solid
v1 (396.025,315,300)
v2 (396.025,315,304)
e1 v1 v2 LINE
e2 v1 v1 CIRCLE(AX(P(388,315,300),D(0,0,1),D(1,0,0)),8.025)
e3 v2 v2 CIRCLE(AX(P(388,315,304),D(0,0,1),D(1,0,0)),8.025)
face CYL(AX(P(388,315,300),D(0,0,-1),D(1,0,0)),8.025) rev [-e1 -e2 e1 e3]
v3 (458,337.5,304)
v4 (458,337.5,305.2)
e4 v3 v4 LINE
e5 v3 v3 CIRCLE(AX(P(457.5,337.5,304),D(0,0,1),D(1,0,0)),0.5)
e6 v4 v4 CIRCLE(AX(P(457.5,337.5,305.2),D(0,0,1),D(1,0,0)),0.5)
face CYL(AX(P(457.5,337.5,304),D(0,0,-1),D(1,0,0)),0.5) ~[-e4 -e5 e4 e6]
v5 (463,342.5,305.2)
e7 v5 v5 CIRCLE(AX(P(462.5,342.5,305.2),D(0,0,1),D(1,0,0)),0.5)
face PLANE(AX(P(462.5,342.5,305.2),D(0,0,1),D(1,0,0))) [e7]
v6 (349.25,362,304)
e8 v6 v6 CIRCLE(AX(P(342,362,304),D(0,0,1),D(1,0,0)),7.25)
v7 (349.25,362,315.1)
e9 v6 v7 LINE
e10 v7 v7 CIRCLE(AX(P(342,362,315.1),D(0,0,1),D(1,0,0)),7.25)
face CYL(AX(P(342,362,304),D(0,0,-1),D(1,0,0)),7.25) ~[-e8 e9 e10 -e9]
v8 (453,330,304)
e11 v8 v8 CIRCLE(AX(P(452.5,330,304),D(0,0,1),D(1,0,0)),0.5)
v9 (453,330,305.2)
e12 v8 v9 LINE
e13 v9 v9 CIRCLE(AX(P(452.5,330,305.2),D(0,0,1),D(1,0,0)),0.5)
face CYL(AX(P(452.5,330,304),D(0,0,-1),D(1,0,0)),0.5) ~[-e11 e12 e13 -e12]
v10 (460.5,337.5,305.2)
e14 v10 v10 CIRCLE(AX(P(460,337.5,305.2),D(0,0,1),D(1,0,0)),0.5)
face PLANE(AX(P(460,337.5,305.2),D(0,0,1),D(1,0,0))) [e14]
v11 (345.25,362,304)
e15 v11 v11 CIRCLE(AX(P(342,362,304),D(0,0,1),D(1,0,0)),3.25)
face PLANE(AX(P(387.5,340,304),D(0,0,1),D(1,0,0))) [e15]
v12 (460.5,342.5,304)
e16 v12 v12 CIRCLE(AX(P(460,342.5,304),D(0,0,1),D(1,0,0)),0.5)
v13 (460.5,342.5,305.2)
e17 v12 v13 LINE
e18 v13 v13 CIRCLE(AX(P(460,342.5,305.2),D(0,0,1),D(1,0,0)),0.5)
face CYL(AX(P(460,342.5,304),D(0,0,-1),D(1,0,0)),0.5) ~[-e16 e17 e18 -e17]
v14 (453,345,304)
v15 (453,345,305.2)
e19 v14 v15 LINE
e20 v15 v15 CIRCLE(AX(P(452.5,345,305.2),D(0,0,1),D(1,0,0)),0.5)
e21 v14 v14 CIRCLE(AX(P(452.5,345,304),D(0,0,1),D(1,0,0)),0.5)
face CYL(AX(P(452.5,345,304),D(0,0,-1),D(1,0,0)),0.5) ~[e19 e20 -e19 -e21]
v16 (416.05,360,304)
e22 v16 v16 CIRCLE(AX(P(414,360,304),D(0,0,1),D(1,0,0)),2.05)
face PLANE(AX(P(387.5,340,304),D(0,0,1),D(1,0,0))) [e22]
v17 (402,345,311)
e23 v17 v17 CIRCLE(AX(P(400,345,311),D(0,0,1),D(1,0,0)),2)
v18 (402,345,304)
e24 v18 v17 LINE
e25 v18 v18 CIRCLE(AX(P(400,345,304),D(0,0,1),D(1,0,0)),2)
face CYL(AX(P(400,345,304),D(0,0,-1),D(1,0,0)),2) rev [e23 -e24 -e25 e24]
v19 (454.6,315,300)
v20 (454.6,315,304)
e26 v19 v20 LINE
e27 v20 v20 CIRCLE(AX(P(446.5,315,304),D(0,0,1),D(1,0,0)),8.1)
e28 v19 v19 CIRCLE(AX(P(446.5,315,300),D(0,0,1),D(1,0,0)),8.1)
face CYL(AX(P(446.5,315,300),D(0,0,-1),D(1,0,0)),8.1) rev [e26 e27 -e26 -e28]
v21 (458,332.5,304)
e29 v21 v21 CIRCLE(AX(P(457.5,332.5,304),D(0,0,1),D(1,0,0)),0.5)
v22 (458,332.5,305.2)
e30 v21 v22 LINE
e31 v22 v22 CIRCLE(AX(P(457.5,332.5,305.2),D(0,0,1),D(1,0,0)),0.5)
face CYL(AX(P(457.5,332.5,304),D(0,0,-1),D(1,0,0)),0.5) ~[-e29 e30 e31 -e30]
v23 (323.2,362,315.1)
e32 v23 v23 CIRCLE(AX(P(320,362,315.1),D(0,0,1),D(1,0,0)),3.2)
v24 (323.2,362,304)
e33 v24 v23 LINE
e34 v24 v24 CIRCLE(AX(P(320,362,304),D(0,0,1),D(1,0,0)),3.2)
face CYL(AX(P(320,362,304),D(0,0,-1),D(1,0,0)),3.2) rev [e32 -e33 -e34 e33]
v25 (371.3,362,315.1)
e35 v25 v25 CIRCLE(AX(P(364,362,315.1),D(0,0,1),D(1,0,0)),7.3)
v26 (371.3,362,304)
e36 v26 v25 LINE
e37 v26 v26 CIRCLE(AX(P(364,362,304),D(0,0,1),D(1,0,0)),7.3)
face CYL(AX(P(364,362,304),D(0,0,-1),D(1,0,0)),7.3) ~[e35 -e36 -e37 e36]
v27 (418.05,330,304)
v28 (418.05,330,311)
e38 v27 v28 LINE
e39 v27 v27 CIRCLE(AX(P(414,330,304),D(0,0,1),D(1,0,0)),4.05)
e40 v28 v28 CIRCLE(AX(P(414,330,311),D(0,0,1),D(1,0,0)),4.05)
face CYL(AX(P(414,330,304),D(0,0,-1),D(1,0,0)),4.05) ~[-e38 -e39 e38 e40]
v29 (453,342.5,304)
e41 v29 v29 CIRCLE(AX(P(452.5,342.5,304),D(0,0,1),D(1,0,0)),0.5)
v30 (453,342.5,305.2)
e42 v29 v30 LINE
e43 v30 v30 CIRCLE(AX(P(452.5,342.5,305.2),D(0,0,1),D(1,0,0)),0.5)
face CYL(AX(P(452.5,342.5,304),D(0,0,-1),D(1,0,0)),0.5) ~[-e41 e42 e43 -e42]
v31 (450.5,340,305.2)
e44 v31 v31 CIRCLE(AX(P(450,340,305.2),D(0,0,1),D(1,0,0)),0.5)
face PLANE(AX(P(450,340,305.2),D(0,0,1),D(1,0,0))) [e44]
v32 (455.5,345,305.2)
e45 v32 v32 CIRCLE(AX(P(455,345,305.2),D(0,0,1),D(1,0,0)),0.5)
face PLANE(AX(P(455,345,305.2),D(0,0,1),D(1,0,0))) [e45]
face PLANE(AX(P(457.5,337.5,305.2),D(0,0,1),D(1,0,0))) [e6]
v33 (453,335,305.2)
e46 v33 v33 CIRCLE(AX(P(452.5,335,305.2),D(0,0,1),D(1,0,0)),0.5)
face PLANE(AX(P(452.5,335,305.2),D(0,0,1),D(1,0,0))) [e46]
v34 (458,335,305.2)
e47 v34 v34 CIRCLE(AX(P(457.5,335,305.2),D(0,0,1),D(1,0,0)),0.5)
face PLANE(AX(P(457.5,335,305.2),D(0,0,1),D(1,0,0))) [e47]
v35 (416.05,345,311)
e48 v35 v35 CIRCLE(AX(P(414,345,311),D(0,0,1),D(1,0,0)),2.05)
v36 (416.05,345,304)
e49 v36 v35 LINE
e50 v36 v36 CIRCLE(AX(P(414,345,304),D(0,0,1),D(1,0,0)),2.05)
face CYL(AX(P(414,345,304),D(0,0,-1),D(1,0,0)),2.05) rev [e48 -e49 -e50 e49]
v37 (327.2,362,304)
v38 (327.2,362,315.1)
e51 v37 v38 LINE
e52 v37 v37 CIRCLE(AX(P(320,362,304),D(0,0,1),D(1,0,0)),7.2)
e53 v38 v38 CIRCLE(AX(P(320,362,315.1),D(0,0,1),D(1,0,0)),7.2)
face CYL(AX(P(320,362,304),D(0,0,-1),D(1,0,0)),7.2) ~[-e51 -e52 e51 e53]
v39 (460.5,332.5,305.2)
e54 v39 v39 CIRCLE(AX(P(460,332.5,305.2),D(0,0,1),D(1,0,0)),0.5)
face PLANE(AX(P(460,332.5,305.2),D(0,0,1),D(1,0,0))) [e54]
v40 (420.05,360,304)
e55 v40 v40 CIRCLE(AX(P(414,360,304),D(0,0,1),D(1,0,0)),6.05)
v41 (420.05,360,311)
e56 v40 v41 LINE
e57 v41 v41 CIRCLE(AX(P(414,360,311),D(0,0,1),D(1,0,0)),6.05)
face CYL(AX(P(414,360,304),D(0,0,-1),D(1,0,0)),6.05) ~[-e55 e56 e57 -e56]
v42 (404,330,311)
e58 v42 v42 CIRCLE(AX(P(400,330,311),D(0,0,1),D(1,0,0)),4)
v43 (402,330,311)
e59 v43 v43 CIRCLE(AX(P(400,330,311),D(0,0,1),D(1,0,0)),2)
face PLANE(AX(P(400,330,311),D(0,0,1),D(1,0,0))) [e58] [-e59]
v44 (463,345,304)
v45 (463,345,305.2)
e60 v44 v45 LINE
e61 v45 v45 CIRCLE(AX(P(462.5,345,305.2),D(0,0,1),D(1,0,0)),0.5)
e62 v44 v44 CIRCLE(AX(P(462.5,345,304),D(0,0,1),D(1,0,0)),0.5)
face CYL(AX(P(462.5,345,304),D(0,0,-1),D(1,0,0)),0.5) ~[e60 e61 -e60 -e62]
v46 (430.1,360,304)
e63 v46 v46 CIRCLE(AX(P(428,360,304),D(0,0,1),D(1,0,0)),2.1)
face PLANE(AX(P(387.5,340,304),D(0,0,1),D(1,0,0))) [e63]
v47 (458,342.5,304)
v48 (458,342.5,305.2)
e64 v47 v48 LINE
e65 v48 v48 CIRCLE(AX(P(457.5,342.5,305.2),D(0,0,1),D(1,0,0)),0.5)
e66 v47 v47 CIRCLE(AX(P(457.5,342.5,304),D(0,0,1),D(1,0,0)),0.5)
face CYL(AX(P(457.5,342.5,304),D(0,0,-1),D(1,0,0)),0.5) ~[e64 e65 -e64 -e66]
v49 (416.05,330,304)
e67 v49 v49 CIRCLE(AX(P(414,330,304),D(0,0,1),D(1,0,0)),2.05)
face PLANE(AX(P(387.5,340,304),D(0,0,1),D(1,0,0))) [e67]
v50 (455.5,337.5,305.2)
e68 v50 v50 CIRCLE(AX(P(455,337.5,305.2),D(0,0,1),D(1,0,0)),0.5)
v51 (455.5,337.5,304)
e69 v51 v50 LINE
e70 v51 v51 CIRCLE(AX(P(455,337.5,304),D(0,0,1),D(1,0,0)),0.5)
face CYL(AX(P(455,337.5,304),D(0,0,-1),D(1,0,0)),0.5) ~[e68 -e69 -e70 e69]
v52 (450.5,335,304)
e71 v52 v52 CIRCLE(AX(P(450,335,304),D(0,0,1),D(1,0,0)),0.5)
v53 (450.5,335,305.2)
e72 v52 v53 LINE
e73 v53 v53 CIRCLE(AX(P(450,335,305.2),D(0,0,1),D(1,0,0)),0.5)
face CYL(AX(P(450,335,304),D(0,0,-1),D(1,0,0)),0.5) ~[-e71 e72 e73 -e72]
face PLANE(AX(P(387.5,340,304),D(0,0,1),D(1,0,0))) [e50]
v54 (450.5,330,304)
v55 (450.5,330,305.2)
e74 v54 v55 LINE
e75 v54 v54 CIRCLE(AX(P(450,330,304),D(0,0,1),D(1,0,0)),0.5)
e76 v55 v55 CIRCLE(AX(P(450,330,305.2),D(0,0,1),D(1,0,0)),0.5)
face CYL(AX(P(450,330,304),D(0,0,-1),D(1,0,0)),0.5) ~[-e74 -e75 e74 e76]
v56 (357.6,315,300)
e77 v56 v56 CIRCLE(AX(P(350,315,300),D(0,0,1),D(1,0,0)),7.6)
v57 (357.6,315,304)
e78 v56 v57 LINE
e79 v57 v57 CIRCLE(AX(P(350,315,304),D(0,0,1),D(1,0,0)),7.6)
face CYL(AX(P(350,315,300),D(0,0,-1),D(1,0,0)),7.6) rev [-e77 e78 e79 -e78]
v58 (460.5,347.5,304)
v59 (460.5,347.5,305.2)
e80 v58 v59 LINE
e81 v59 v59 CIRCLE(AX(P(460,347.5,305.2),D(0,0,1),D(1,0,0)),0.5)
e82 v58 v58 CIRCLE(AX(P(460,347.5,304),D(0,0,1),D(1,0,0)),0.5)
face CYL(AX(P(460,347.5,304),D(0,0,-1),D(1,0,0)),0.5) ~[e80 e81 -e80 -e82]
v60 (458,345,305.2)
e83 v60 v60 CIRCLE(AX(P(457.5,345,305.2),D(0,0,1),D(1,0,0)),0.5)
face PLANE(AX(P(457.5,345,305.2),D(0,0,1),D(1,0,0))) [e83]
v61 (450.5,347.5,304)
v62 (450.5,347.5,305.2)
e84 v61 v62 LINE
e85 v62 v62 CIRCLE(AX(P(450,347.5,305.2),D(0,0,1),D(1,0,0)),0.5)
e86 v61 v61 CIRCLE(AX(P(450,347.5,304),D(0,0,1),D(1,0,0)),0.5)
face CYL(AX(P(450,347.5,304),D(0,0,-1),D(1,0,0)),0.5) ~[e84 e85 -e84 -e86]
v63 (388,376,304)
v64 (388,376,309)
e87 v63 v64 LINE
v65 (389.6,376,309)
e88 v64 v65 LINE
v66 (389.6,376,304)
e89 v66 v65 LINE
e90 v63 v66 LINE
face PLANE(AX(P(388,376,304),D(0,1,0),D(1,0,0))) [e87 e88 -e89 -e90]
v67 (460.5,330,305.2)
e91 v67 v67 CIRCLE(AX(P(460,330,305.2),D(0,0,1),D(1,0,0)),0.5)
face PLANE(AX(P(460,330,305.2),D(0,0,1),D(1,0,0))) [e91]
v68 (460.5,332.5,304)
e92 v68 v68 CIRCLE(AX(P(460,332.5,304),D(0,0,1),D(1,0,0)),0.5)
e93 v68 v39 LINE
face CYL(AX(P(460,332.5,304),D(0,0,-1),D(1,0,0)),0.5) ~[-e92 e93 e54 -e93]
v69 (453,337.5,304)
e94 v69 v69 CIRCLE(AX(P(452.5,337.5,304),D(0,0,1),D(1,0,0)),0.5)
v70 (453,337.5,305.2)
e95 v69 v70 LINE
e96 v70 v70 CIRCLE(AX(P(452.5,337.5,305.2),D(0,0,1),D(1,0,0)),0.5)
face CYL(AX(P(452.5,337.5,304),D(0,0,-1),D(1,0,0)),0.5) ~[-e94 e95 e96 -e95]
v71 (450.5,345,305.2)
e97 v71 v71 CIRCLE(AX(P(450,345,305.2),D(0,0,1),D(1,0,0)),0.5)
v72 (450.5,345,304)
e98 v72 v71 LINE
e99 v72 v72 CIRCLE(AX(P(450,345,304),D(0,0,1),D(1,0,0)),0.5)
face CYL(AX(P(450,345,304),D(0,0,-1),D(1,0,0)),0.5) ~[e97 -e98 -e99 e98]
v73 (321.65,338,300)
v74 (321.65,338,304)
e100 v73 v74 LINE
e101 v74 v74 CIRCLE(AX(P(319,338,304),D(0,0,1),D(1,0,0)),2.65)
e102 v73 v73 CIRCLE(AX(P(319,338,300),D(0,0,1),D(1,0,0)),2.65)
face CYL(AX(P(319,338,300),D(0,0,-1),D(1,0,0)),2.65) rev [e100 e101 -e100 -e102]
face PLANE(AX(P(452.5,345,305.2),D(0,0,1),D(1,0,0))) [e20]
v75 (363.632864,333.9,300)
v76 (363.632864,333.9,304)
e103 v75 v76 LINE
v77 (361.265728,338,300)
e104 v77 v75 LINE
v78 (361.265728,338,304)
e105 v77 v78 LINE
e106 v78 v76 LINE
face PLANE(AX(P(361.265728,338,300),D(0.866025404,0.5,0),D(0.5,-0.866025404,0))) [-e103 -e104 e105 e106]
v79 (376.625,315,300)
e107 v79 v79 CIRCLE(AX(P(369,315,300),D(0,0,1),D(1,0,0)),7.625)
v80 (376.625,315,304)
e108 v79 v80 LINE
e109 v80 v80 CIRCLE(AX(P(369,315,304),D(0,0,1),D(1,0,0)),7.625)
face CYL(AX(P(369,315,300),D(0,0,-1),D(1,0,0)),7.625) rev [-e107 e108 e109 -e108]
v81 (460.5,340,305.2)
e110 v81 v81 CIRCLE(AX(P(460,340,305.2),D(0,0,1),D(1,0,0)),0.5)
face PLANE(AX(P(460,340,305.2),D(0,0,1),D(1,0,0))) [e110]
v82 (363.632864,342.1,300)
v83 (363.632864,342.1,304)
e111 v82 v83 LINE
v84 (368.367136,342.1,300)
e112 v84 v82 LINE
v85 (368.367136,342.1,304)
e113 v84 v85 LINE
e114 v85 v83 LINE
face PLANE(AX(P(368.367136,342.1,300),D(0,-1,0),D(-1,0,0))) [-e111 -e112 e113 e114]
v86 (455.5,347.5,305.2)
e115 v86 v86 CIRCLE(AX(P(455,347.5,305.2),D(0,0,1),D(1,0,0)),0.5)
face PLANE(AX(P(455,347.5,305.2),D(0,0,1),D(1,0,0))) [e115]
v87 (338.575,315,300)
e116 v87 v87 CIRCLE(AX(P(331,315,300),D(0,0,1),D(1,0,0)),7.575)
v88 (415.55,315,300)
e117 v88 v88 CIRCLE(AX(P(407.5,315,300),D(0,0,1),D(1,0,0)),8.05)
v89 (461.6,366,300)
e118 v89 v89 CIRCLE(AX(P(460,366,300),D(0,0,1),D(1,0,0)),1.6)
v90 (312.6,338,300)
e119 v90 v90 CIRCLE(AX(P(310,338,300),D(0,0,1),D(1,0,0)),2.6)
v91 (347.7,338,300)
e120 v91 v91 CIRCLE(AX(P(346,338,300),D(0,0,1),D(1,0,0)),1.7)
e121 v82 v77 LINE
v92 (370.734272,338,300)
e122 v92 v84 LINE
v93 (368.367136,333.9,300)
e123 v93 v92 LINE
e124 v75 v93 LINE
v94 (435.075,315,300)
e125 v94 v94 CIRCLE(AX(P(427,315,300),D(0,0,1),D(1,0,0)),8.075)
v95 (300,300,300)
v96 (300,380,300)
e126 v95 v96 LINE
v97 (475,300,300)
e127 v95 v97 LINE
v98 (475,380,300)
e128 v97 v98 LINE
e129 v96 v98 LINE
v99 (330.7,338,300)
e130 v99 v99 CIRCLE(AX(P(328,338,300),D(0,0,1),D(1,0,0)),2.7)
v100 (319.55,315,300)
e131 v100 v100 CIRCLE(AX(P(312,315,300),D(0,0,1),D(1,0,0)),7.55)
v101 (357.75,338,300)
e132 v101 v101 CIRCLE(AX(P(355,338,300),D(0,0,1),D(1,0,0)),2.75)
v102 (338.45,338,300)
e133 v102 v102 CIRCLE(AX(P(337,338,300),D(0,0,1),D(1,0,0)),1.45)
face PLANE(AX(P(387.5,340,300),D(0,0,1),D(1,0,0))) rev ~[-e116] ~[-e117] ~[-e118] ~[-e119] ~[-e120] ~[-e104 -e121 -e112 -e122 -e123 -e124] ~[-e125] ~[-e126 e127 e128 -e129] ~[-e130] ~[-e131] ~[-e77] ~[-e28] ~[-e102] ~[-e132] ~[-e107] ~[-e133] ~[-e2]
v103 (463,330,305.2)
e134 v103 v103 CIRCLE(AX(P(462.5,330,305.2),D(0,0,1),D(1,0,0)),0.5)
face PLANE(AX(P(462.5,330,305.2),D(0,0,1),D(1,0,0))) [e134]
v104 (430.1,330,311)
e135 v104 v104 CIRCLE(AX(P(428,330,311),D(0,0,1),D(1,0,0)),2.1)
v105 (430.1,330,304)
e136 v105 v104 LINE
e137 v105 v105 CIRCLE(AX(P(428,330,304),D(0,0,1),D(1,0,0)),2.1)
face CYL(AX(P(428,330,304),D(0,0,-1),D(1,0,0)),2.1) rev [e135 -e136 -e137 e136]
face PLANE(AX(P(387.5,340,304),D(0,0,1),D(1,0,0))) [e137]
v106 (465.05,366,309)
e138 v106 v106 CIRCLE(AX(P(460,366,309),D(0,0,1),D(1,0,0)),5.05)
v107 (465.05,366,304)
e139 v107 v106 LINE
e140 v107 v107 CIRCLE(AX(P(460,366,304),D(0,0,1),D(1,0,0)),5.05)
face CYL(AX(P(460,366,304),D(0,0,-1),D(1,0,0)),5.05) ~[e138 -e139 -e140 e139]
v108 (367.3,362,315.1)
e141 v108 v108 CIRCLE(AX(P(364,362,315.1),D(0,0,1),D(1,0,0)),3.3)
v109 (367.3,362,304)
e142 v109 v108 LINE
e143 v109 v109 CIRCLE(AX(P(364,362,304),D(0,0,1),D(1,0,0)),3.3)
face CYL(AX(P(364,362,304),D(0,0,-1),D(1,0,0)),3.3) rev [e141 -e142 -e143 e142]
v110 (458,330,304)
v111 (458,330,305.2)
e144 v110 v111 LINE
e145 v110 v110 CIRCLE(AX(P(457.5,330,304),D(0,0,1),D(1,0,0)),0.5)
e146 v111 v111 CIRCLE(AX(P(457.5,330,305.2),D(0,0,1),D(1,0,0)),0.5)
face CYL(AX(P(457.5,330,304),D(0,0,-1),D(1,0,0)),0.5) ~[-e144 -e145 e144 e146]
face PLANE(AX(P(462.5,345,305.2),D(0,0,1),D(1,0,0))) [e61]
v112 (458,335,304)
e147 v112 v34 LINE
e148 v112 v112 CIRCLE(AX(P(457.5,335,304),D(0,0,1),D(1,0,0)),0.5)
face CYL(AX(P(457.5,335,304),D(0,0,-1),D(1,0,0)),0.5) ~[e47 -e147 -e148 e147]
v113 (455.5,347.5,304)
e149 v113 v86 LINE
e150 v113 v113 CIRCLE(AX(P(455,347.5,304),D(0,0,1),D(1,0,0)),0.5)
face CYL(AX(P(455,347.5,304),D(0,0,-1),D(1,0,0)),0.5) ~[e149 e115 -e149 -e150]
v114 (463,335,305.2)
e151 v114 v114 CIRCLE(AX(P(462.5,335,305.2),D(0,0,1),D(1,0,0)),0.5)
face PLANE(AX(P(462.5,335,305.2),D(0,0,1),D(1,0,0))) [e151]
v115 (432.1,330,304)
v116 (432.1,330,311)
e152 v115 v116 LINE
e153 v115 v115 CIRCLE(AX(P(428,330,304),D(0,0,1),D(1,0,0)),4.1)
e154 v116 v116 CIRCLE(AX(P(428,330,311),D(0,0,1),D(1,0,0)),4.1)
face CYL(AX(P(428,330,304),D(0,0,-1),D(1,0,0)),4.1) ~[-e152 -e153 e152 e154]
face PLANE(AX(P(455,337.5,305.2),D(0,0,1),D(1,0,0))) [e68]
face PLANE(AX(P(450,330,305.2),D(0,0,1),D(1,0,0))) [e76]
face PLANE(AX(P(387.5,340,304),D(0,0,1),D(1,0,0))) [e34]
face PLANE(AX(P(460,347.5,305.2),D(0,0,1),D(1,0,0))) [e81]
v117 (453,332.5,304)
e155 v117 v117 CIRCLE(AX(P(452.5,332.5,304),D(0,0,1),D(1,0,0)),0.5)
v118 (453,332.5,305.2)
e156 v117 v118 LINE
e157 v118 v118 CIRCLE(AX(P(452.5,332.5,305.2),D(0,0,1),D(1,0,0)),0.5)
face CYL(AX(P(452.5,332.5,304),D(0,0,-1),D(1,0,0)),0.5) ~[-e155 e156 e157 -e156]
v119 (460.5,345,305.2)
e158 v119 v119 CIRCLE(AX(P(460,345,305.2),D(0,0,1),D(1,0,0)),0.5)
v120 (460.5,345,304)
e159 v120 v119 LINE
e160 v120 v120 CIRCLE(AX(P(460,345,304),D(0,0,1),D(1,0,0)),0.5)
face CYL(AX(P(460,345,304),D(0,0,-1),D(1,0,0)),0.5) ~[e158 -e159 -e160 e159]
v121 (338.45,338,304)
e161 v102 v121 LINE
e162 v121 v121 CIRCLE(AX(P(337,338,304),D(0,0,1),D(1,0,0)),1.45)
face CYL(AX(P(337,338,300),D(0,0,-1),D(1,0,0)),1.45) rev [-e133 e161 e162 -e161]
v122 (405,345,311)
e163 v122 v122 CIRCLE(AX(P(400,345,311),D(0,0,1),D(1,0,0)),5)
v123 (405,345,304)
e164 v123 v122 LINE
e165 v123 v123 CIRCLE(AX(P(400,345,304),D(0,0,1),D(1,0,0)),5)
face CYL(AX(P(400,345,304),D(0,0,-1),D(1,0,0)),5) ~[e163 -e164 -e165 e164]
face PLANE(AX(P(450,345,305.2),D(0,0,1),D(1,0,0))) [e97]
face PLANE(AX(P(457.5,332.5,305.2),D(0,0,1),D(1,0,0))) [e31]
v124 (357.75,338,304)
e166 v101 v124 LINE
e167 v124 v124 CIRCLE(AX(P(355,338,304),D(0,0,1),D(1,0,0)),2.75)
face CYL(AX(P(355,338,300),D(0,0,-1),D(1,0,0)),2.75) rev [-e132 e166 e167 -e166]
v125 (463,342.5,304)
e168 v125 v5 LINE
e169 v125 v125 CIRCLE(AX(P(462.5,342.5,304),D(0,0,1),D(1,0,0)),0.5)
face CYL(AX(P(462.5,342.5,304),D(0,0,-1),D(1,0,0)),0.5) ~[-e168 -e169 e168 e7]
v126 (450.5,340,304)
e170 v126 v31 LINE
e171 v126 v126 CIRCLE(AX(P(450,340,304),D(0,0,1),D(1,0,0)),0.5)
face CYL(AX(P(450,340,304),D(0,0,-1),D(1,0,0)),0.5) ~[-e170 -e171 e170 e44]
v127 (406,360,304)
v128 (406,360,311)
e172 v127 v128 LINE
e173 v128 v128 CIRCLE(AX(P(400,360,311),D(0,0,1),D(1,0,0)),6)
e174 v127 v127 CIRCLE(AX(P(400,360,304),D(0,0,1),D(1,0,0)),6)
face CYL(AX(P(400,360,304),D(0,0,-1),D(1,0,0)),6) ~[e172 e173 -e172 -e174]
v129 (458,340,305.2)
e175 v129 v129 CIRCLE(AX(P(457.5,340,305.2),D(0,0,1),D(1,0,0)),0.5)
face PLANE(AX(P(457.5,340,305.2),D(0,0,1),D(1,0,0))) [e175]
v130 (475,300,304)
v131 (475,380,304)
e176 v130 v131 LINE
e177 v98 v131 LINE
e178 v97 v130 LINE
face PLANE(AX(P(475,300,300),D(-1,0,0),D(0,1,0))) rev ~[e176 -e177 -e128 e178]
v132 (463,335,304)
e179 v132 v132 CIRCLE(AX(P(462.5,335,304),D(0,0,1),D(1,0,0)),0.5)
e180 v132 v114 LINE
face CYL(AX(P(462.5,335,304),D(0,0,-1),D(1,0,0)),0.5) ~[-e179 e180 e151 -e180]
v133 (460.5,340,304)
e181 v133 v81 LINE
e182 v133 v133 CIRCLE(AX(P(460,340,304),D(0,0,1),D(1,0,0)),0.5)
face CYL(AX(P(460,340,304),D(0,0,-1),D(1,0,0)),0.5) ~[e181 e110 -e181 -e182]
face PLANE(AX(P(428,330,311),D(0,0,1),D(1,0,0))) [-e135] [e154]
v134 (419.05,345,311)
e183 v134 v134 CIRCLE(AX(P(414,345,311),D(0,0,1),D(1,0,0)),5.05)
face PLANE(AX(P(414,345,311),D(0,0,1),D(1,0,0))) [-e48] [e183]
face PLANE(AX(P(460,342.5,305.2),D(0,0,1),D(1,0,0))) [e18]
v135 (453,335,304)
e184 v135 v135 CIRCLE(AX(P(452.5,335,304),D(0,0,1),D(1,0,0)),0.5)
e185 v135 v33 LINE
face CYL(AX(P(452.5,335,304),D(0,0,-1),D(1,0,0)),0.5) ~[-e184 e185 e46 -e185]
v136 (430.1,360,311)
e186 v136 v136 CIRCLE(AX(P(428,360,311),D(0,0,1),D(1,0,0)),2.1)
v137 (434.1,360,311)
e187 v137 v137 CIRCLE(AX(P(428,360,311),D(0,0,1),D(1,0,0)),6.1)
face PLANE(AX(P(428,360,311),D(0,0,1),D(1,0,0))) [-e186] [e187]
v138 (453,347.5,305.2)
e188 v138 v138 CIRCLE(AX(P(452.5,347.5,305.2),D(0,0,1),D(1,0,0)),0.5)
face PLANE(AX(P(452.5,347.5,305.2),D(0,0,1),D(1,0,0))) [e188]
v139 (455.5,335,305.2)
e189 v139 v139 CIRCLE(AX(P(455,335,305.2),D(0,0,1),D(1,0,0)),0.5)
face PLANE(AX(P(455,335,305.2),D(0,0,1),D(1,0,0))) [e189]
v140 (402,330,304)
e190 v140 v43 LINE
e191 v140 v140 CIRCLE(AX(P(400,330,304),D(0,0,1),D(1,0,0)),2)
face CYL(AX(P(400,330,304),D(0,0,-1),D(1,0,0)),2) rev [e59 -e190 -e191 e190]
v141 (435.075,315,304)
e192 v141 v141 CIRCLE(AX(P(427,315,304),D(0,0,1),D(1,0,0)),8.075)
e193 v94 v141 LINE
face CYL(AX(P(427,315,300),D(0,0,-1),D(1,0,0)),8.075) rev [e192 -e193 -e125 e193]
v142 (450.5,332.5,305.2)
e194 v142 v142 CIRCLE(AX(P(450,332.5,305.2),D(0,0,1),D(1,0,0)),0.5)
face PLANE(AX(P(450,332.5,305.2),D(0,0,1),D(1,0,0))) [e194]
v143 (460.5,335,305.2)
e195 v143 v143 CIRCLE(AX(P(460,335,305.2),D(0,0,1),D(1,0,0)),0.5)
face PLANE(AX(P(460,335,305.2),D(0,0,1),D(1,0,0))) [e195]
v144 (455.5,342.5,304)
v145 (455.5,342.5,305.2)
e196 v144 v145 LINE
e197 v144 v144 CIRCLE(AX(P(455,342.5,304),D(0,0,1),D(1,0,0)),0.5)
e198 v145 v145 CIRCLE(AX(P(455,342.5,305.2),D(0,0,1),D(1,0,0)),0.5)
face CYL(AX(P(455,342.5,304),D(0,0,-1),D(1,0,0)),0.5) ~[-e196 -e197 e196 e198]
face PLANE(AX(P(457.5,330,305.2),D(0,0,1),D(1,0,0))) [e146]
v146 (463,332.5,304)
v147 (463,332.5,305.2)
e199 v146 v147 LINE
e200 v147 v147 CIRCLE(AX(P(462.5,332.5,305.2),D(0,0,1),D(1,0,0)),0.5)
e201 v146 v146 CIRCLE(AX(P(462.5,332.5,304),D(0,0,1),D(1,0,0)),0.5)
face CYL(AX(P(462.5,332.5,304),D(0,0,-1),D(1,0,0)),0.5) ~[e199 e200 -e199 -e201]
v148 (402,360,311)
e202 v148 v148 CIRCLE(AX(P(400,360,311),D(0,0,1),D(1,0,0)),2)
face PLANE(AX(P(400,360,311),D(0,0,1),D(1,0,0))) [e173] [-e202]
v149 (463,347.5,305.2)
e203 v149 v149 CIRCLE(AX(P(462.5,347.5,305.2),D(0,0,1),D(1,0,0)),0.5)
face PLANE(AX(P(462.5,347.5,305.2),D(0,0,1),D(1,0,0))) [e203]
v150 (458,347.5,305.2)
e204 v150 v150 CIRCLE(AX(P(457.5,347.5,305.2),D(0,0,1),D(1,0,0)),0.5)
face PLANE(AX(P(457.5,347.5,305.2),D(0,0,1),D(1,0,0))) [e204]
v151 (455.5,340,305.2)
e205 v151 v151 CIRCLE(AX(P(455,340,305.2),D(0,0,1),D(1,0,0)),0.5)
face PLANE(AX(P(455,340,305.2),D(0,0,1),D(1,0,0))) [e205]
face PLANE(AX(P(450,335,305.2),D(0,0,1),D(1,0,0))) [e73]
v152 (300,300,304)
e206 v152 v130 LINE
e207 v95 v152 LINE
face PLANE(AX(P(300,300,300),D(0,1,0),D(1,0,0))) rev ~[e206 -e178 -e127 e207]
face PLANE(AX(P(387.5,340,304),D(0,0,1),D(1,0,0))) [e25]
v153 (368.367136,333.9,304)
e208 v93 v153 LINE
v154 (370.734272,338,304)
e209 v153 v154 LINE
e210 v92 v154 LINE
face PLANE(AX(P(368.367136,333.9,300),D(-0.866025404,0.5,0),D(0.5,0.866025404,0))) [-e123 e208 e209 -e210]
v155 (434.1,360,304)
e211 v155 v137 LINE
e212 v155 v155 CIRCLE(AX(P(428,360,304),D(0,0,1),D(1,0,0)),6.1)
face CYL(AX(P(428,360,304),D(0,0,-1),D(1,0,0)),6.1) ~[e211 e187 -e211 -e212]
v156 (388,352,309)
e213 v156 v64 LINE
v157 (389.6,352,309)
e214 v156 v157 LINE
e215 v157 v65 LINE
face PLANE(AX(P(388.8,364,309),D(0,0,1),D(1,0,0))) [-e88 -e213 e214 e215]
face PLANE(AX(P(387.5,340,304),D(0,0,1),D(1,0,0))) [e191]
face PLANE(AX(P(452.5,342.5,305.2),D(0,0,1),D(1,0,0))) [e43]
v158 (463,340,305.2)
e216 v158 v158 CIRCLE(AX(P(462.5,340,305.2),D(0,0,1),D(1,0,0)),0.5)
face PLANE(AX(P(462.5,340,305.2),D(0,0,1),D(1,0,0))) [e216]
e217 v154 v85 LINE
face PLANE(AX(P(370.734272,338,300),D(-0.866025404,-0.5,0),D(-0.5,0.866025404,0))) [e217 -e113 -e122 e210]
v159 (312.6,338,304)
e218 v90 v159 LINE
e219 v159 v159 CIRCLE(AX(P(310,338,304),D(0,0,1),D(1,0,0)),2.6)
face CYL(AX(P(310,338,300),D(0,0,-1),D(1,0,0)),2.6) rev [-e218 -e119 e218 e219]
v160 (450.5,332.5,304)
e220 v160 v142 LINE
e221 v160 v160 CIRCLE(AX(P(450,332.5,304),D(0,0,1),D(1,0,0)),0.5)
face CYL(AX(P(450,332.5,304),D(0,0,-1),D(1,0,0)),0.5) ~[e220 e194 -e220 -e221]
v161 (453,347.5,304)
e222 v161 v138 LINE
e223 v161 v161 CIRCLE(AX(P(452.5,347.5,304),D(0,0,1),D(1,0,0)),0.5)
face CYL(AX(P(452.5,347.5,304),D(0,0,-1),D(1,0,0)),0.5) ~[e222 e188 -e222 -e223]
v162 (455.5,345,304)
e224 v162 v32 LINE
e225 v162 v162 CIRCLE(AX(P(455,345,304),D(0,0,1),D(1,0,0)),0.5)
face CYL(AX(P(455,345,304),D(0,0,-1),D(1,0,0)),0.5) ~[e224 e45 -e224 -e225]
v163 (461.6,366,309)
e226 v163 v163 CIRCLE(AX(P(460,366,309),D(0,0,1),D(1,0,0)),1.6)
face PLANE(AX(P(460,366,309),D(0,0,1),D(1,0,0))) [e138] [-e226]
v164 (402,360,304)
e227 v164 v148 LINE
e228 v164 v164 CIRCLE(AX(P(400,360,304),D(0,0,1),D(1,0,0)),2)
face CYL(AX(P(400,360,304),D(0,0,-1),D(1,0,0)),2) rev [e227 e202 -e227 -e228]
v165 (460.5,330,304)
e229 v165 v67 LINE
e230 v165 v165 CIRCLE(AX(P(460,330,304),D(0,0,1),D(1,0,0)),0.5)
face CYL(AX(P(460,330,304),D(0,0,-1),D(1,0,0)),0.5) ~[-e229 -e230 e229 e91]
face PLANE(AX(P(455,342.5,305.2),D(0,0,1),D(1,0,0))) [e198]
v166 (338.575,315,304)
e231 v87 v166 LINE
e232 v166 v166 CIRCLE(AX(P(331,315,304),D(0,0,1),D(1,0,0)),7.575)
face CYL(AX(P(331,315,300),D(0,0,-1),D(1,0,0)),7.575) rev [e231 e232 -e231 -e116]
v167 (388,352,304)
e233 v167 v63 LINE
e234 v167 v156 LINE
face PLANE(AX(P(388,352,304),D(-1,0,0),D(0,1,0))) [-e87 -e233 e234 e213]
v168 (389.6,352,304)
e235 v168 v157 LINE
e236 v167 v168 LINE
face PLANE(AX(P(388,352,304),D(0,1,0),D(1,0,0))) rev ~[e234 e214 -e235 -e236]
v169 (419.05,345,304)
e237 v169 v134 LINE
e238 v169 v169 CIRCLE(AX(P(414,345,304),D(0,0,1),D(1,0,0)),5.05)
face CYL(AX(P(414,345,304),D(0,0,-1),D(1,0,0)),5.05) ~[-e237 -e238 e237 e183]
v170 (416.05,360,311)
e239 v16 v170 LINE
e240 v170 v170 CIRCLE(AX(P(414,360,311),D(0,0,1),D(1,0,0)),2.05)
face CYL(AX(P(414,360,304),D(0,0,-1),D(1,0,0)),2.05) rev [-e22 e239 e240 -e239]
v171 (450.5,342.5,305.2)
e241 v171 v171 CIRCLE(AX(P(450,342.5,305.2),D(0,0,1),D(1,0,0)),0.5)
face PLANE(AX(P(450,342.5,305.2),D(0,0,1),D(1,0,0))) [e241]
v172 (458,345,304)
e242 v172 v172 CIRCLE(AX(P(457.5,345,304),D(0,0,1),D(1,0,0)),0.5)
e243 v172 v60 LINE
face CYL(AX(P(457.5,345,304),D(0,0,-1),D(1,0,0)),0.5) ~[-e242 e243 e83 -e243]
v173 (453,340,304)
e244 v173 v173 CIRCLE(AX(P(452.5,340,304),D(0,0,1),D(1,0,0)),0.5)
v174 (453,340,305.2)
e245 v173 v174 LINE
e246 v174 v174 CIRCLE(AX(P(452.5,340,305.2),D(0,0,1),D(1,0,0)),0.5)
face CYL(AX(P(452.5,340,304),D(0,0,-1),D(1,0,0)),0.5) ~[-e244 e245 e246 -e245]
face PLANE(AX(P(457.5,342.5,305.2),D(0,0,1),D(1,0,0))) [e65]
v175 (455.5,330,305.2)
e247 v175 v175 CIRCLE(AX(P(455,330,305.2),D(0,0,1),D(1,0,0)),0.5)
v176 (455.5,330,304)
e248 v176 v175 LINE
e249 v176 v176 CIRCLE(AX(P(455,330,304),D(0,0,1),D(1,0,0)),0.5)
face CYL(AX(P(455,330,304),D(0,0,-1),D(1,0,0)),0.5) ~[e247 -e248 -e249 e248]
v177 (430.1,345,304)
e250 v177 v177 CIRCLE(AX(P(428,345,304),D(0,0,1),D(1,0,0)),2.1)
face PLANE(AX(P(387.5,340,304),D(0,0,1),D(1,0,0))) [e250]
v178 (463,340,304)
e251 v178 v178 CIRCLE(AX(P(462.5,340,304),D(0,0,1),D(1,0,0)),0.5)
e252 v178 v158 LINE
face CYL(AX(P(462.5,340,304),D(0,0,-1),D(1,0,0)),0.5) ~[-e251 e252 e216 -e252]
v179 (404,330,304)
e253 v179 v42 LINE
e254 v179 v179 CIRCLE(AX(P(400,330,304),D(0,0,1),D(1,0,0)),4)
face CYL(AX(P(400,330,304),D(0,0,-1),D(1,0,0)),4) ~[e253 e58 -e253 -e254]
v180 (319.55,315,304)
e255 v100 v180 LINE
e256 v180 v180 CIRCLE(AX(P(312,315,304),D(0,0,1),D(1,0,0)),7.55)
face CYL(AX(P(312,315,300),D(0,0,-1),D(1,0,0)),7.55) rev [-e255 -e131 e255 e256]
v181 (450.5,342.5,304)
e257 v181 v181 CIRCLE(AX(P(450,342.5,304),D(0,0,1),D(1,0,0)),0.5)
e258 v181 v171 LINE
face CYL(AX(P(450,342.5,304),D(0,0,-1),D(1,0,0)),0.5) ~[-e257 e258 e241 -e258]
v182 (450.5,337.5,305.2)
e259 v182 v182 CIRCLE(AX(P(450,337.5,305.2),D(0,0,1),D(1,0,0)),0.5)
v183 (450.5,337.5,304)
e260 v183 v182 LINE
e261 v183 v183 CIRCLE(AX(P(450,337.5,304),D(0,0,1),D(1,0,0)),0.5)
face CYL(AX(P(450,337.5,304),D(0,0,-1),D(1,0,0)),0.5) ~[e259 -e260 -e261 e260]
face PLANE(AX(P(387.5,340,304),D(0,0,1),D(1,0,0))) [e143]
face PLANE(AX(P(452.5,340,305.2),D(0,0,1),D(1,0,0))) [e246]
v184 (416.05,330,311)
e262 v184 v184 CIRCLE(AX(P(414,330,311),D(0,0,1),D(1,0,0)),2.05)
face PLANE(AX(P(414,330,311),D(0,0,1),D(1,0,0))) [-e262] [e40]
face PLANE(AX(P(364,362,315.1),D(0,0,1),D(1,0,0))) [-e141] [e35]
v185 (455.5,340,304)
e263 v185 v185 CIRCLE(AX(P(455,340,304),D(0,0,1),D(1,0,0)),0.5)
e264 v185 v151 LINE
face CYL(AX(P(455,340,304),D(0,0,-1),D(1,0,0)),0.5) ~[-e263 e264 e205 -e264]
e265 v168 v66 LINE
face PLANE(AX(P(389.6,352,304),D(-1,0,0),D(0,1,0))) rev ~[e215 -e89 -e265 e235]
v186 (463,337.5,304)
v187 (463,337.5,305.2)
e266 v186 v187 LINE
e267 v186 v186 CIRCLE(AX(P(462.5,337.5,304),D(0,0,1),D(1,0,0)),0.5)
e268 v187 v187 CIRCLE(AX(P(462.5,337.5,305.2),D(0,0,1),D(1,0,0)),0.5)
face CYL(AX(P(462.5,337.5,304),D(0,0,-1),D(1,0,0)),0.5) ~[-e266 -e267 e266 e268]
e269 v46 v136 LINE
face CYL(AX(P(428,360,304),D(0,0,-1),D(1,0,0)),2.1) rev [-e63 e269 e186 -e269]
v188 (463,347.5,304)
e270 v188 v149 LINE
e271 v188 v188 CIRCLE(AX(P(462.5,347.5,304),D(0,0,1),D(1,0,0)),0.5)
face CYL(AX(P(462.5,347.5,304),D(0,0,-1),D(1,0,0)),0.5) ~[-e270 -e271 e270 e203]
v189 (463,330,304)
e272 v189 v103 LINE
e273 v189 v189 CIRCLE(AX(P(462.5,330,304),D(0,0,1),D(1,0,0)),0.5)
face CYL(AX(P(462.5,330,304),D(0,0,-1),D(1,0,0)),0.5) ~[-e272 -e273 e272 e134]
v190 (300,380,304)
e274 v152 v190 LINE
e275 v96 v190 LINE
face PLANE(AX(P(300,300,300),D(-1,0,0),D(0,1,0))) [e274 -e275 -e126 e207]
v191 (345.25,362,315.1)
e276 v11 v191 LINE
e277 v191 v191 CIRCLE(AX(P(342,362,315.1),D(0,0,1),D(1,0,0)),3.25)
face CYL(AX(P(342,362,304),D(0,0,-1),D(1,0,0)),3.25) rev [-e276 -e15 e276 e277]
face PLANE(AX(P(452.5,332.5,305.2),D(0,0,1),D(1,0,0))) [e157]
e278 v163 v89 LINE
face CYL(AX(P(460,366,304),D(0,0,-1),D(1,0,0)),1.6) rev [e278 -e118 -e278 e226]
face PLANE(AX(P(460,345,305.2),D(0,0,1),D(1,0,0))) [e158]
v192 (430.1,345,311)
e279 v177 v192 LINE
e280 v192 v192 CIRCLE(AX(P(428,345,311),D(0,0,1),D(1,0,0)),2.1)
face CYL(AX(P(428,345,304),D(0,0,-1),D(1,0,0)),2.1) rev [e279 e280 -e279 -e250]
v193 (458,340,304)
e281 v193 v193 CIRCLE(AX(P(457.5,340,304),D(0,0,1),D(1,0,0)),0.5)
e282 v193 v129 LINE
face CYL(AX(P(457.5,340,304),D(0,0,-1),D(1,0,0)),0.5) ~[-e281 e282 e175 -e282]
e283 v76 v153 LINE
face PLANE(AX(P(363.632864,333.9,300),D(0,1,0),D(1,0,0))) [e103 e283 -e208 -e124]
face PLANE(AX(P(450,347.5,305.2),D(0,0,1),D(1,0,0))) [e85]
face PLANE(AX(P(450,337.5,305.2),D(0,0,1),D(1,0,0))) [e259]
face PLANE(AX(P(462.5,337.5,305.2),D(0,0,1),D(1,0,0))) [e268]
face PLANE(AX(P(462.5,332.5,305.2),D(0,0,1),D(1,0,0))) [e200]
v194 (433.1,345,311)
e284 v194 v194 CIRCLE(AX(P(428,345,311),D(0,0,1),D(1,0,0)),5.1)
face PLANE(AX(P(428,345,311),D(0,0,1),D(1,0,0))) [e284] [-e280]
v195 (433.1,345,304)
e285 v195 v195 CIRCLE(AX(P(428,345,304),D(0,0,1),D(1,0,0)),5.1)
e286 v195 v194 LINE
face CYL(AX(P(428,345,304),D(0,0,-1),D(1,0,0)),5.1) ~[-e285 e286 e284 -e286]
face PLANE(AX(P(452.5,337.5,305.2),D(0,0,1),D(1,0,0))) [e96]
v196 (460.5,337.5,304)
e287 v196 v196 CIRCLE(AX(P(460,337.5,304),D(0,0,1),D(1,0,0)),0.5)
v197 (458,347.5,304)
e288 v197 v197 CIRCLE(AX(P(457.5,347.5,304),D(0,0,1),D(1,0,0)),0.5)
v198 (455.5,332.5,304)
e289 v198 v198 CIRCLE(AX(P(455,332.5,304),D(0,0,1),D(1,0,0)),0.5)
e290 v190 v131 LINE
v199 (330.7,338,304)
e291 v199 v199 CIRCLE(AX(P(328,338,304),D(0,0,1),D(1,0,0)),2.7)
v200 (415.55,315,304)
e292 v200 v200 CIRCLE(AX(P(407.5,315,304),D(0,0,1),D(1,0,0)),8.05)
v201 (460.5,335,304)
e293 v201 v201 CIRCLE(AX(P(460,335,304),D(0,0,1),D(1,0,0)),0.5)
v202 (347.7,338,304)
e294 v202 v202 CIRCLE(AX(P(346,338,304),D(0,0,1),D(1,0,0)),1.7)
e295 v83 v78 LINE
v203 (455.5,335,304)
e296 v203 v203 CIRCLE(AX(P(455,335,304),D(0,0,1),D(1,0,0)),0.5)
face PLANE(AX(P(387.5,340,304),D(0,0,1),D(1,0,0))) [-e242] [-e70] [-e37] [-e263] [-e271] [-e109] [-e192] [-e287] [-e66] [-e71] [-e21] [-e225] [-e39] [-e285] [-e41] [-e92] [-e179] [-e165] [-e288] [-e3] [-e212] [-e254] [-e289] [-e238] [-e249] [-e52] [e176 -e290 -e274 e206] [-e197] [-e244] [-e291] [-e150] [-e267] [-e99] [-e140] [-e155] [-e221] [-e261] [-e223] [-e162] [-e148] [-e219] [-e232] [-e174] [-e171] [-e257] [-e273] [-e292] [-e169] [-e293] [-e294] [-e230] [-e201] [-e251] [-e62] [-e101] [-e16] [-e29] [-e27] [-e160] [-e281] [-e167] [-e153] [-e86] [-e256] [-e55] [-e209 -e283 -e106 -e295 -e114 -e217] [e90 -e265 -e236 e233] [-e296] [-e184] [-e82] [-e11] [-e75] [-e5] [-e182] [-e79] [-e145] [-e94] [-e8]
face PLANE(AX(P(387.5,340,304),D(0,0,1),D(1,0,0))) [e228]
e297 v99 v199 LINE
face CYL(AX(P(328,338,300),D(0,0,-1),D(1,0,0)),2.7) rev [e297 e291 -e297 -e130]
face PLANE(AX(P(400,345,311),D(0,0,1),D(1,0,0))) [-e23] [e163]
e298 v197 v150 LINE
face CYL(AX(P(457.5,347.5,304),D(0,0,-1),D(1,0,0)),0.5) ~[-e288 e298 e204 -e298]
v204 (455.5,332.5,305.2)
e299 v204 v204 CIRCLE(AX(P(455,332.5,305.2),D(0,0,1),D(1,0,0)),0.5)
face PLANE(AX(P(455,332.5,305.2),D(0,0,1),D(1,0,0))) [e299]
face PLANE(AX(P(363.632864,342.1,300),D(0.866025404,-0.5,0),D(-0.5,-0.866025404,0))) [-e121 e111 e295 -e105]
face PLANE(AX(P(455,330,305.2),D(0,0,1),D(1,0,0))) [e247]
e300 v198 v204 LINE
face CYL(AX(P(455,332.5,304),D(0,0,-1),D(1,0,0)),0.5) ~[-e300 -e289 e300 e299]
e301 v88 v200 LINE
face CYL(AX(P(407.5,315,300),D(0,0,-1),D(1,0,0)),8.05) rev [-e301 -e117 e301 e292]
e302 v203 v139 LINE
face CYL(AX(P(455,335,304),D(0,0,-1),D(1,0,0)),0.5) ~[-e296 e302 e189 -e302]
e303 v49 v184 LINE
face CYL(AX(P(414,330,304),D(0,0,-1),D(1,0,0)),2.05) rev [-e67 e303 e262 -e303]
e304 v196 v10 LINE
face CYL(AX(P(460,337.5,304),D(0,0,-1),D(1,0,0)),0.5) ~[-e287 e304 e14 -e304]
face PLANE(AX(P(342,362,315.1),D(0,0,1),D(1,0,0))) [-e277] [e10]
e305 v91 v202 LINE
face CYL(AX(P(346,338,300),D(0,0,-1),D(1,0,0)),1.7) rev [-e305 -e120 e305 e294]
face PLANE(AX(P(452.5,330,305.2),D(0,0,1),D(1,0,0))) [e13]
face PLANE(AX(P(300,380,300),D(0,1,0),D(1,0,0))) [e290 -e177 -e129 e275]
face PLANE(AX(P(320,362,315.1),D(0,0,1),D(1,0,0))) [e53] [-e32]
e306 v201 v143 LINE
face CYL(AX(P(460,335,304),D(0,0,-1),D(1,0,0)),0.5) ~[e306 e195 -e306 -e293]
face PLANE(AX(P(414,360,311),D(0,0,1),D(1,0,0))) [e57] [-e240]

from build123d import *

# Parameters (mm, degrees)
SKETCH1_W            = 175
SKETCH1_H            = 80
SKETCH1_R            = 7.55
SKETCH1_R_2          = 7.575
SKETCH1_R_3          = 7.6
SKETCH1_R_4          = 7.625
SKETCH1_R_5          = 8.025
SKETCH1_R_6          = 8.05
SKETCH1_R_7          = 8.075
SKETCH1_R_8          = 8.1
SKETCH1_R_9          = 2.6
SKETCH1_R_10         = 2.65
SKETCH1_R_11         = 2.7
SKETCH1_R_12         = 1.45
SKETCH1_R_13         = 1.7
SKETCH1_R_14         = 2.75
BOSS_EXTRUDE1_DEPTH  = 4
SKETCH2_R            = 4
SKETCH2_R_2          = 2
BOSS_EXTRUDE2_DEPTH  = 7
SKETCH3_R            = 5
SKETCH3_R_2          = 2
BOSS_EXTRUDE3_DEPTH  = 7
SKETCH4_R            = 6
SKETCH4_R_2          = 2
BOSS_EXTRUDE4_DEPTH  = 7
SKETCH5_R            = 4.05
SKETCH5_R_2          = 2.05
BOSS_EXTRUDE5_DEPTH  = 7
SKETCH6_R            = 5.05
SKETCH6_R_2          = 2.05
BOSS_EXTRUDE6_DEPTH  = 7
SKETCH7_R            = 6.05
SKETCH7_R_2          = 2.05
BOSS_EXTRUDE7_DEPTH  = 7
SKETCH8_R            = 4.1
SKETCH8_R_2          = 2.1
BOSS_EXTRUDE8_DEPTH  = 7
SKETCH9_R            = 5.1
SKETCH9_R_2          = 2.1
BOSS_EXTRUDE9_DEPTH  = 7
SKETCH10_R           = 6.1
SKETCH10_R_2         = 2.1
BOSS_EXTRUDE10_DEPTH = 7
SKETCH11_R           = 7.2
SKETCH11_R_2         = 3.2
BOSS_EXTRUDE11_DEPTH = 11.1
SKETCH12_R           = 7.25
SKETCH12_R_2         = 3.25
BOSS_EXTRUDE12_DEPTH = 11.1
SKETCH13_R           = 7.3
SKETCH13_R_2         = 3.3
BOSS_EXTRUDE13_DEPTH = 11.1
SKETCH14_W           = 1.6
SKETCH14_H           = 24
BOSS_EXTRUDE14_DEPTH = 5
SKETCH15_R           = 0.5
BOSS_EXTRUDE15_DEPTH = 1.2
SKETCH16_R           = 1.6
CUT_EXTRUDE1_DEPTH   = 4
SKETCH17_R           = 5.05
SKETCH17_R_2         = 1.6
BOSS_EXTRUDE16_DEPTH = 5


with BuildPart() as part:
    # Sketch1 → Boss-Extrude1 (new body)
    with BuildSketch(Plane.XY.offset(300)):
        with Locations((387.5, 340)):
            Rectangle(SKETCH1_W, SKETCH1_H)
        with Locations((312, 315)):
            Circle(SKETCH1_R, mode=Mode.SUBTRACT)
        with Locations((331, 315)):
            Circle(SKETCH1_R_2, mode=Mode.SUBTRACT)
        with Locations((350, 315)):
            Circle(SKETCH1_R_3, mode=Mode.SUBTRACT)
        with Locations((369, 315)):
            Circle(SKETCH1_R_4, mode=Mode.SUBTRACT)
        with Locations((388, 315)):
            Circle(SKETCH1_R_5, mode=Mode.SUBTRACT)
        with Locations((407.5, 315)):
            Circle(SKETCH1_R_6, mode=Mode.SUBTRACT)
        with Locations((427, 315)):
            Circle(SKETCH1_R_7, mode=Mode.SUBTRACT)
        with Locations((446.5, 315)):
            Circle(SKETCH1_R_8, mode=Mode.SUBTRACT)
        with Locations((310, 338)):
            Circle(SKETCH1_R_9, mode=Mode.SUBTRACT)
        with Locations((319, 338)):
            Circle(SKETCH1_R_10, mode=Mode.SUBTRACT)
        with Locations((328, 338)):
            Circle(SKETCH1_R_11, mode=Mode.SUBTRACT)
        with Locations((337, 338)):
            Circle(SKETCH1_R_12, mode=Mode.SUBTRACT)
        with Locations((346, 338)):
            Circle(SKETCH1_R_13, mode=Mode.SUBTRACT)
        with Locations((355, 338)):
            Circle(SKETCH1_R_14, mode=Mode.SUBTRACT)
        Polygon((370.734272207, 338), (368.367136104, 342.1), (363.632863896, 342.1), (361.265727793, 338), (363.632863896, 333.9), (368.367136104, 333.9), align=None, mode=Mode.SUBTRACT)
    extrude(amount=BOSS_EXTRUDE1_DEPTH)

    # Sketch2 → Boss-Extrude2 (add)
    with BuildSketch(Plane.XY.offset(304)):
        with Locations((400, 330)):
            Circle(SKETCH2_R)
        with Locations((400, 330)):
            Circle(SKETCH2_R_2, mode=Mode.SUBTRACT)
    extrude(amount=BOSS_EXTRUDE2_DEPTH)

    # Sketch3 → Boss-Extrude3 (add)
    with BuildSketch(Plane.XY.offset(304)):
        with Locations((400, 345)):
            Circle(SKETCH3_R)
        with Locations((400, 345)):
            Circle(SKETCH3_R_2, mode=Mode.SUBTRACT)
    extrude(amount=BOSS_EXTRUDE3_DEPTH)

    # Sketch4 → Boss-Extrude4 (add)
    with BuildSketch(Plane.XY.offset(304)):
        with Locations((400, 360)):
            Circle(SKETCH4_R)
        with Locations((400, 360)):
            Circle(SKETCH4_R_2, mode=Mode.SUBTRACT)
    extrude(amount=BOSS_EXTRUDE4_DEPTH)

    # Sketch5 → Boss-Extrude5 (add)
    with BuildSketch(Plane.XY.offset(304)):
        with Locations((414, 330)):
            Circle(SKETCH5_R)
        with Locations((414, 330)):
            Circle(SKETCH5_R_2, mode=Mode.SUBTRACT)
    extrude(amount=BOSS_EXTRUDE5_DEPTH)

    # Sketch6 → Boss-Extrude6 (add)
    with BuildSketch(Plane.XY.offset(304)):
        with Locations((414, 345)):
            Circle(SKETCH6_R)
        with Locations((414, 345)):
            Circle(SKETCH6_R_2, mode=Mode.SUBTRACT)
    extrude(amount=BOSS_EXTRUDE6_DEPTH)

    # Sketch7 → Boss-Extrude7 (add)
    with BuildSketch(Plane.XY.offset(304)):
        with Locations((414, 360)):
            Circle(SKETCH7_R)
        with Locations((414, 360)):
            Circle(SKETCH7_R_2, mode=Mode.SUBTRACT)
    extrude(amount=BOSS_EXTRUDE7_DEPTH)

    # Sketch8 → Boss-Extrude8 (add)
    with BuildSketch(Plane.XY.offset(304)):
        with Locations((428, 330)):
            Circle(SKETCH8_R)
        with Locations((428, 330)):
            Circle(SKETCH8_R_2, mode=Mode.SUBTRACT)
    extrude(amount=BOSS_EXTRUDE8_DEPTH)

    # Sketch9 → Boss-Extrude9 (add)
    with BuildSketch(Plane.XY.offset(304)):
        with Locations((428, 345)):
            Circle(SKETCH9_R)
        with Locations((428, 345)):
            Circle(SKETCH9_R_2, mode=Mode.SUBTRACT)
    extrude(amount=BOSS_EXTRUDE9_DEPTH)

    # Sketch10 → Boss-Extrude10 (add)
    with BuildSketch(Plane.XY.offset(304)):
        with Locations((428, 360)):
            Circle(SKETCH10_R)
        with Locations((428, 360)):
            Circle(SKETCH10_R_2, mode=Mode.SUBTRACT)
    extrude(amount=BOSS_EXTRUDE10_DEPTH)

    # Sketch11 → Boss-Extrude11 (add)
    with BuildSketch(Plane.XY.offset(304)):
        with Locations((320, 362)):
            Circle(SKETCH11_R)
        with Locations((320, 362)):
            Circle(SKETCH11_R_2, mode=Mode.SUBTRACT)
    extrude(amount=BOSS_EXTRUDE11_DEPTH)

    # Sketch12 → Boss-Extrude12 (add)
    with BuildSketch(Plane.XY.offset(304)):
        with Locations((342, 362)):
            Circle(SKETCH12_R)
        with Locations((342, 362)):
            Circle(SKETCH12_R_2, mode=Mode.SUBTRACT)
    extrude(amount=BOSS_EXTRUDE12_DEPTH)

    # Sketch13 → Boss-Extrude13 (add)
    with BuildSketch(Plane.XY.offset(304)):
        with Locations((364, 362)):
            Circle(SKETCH13_R)
        with Locations((364, 362)):
            Circle(SKETCH13_R_2, mode=Mode.SUBTRACT)
    extrude(amount=BOSS_EXTRUDE13_DEPTH)

    # Sketch14 → Boss-Extrude14 (add)
    with BuildSketch(Plane.XY.offset(304)):
        with Locations((388.8, 364)):
            Rectangle(SKETCH14_W, SKETCH14_H)
    extrude(amount=BOSS_EXTRUDE14_DEPTH)

    # Sketch15 → Boss-Extrude15 (add)
    with BuildSketch(Plane.XY.offset(304)):
        with Locations((450, 330)):
            Circle(SKETCH15_R)
        with Locations((452.5, 330)):
            Circle(SKETCH15_R)
        with Locations((455, 330)):
            Circle(SKETCH15_R)
        with Locations((457.5, 330)):
            Circle(SKETCH15_R)
        with Locations((460, 330)):
            Circle(SKETCH15_R)
        with Locations((462.5, 330)):
            Circle(SKETCH15_R)
        with Locations((450, 332.5)):
            Circle(SKETCH15_R)
        with Locations((452.5, 332.5)):
            Circle(SKETCH15_R)
        with Locations((455, 332.5)):
            Circle(SKETCH15_R)
        with Locations((457.5, 332.5)):
            Circle(SKETCH15_R)
        with Locations((460, 332.5)):
            Circle(SKETCH15_R)
        with Locations((462.5, 332.5)):
            Circle(SKETCH15_R)
        with Locations((450, 335)):
            Circle(SKETCH15_R)
        with Locations((452.5, 335)):
            Circle(SKETCH15_R)
        with Locations((455, 335)):
            Circle(SKETCH15_R)
        with Locations((457.5, 335)):
            Circle(SKETCH15_R)
        with Locations((460, 335)):
            Circle(SKETCH15_R)
        with Locations((462.5, 335)):
            Circle(SKETCH15_R)
        with Locations((450, 337.5)):
            Circle(SKETCH15_R)
        with Locations((452.5, 337.5)):
            Circle(SKETCH15_R)
        with Locations((455, 337.5)):
            Circle(SKETCH15_R)
        with Locations((457.5, 337.5)):
            Circle(SKETCH15_R)
        with Locations((460, 337.5)):
            Circle(SKETCH15_R)
        with Locations((462.5, 337.5)):
            Circle(SKETCH15_R)
        with Locations((450, 340)):
            Circle(SKETCH15_R)
        with Locations((452.5, 340)):
            Circle(SKETCH15_R)
        with Locations((455, 340)):
            Circle(SKETCH15_R)
        with Locations((457.5, 340)):
            Circle(SKETCH15_R)
        with Locations((460, 340)):
            Circle(SKETCH15_R)
        with Locations((462.5, 340)):
            Circle(SKETCH15_R)
        with Locations((450, 342.5)):
            Circle(SKETCH15_R)
        with Locations((452.5, 342.5)):
            Circle(SKETCH15_R)
        with Locations((455, 342.5)):
            Circle(SKETCH15_R)
        with Locations((457.5, 342.5)):
            Circle(SKETCH15_R)
        with Locations((460, 342.5)):
            Circle(SKETCH15_R)
        with Locations((462.5, 342.5)):
            Circle(SKETCH15_R)
        with Locations((450, 345)):
            Circle(SKETCH15_R)
        with Locations((452.5, 345)):
            Circle(SKETCH15_R)
        with Locations((455, 345)):
            Circle(SKETCH15_R)
        with Locations((457.5, 345)):
            Circle(SKETCH15_R)
        with Locations((460, 345)):
            Circle(SKETCH15_R)
        with Locations((462.5, 345)):
            Circle(SKETCH15_R)
        with Locations((450, 347.5)):
            Circle(SKETCH15_R)
        with Locations((452.5, 347.5)):
            Circle(SKETCH15_R)
        with Locations((455, 347.5)):
            Circle(SKETCH15_R)
        with Locations((457.5, 347.5)):
            Circle(SKETCH15_R)
        with Locations((460, 347.5)):
            Circle(SKETCH15_R)
        with Locations((462.5, 347.5)):
            Circle(SKETCH15_R)
    extrude(amount=BOSS_EXTRUDE15_DEPTH)

    # Sketch16 → Cut-Extrude1 (cut)
    with BuildSketch(Plane.XY.offset(300)):
        with Locations((460, 366)):
            Circle(SKETCH16_R)
    extrude(amount=CUT_EXTRUDE1_DEPTH, mode=Mode.SUBTRACT)

    # Sketch17 → Boss-Extrude16 (add)
    with BuildSketch(Plane.XY.offset(304)):
        with Locations((460, 366)):
            Circle(SKETCH17_R)
        with Locations((460, 366)):
            Circle(SKETCH17_R_2, mode=Mode.SUBTRACT)
    extrude(amount=BOSS_EXTRUDE16_DEPTH)


solid = part.part
